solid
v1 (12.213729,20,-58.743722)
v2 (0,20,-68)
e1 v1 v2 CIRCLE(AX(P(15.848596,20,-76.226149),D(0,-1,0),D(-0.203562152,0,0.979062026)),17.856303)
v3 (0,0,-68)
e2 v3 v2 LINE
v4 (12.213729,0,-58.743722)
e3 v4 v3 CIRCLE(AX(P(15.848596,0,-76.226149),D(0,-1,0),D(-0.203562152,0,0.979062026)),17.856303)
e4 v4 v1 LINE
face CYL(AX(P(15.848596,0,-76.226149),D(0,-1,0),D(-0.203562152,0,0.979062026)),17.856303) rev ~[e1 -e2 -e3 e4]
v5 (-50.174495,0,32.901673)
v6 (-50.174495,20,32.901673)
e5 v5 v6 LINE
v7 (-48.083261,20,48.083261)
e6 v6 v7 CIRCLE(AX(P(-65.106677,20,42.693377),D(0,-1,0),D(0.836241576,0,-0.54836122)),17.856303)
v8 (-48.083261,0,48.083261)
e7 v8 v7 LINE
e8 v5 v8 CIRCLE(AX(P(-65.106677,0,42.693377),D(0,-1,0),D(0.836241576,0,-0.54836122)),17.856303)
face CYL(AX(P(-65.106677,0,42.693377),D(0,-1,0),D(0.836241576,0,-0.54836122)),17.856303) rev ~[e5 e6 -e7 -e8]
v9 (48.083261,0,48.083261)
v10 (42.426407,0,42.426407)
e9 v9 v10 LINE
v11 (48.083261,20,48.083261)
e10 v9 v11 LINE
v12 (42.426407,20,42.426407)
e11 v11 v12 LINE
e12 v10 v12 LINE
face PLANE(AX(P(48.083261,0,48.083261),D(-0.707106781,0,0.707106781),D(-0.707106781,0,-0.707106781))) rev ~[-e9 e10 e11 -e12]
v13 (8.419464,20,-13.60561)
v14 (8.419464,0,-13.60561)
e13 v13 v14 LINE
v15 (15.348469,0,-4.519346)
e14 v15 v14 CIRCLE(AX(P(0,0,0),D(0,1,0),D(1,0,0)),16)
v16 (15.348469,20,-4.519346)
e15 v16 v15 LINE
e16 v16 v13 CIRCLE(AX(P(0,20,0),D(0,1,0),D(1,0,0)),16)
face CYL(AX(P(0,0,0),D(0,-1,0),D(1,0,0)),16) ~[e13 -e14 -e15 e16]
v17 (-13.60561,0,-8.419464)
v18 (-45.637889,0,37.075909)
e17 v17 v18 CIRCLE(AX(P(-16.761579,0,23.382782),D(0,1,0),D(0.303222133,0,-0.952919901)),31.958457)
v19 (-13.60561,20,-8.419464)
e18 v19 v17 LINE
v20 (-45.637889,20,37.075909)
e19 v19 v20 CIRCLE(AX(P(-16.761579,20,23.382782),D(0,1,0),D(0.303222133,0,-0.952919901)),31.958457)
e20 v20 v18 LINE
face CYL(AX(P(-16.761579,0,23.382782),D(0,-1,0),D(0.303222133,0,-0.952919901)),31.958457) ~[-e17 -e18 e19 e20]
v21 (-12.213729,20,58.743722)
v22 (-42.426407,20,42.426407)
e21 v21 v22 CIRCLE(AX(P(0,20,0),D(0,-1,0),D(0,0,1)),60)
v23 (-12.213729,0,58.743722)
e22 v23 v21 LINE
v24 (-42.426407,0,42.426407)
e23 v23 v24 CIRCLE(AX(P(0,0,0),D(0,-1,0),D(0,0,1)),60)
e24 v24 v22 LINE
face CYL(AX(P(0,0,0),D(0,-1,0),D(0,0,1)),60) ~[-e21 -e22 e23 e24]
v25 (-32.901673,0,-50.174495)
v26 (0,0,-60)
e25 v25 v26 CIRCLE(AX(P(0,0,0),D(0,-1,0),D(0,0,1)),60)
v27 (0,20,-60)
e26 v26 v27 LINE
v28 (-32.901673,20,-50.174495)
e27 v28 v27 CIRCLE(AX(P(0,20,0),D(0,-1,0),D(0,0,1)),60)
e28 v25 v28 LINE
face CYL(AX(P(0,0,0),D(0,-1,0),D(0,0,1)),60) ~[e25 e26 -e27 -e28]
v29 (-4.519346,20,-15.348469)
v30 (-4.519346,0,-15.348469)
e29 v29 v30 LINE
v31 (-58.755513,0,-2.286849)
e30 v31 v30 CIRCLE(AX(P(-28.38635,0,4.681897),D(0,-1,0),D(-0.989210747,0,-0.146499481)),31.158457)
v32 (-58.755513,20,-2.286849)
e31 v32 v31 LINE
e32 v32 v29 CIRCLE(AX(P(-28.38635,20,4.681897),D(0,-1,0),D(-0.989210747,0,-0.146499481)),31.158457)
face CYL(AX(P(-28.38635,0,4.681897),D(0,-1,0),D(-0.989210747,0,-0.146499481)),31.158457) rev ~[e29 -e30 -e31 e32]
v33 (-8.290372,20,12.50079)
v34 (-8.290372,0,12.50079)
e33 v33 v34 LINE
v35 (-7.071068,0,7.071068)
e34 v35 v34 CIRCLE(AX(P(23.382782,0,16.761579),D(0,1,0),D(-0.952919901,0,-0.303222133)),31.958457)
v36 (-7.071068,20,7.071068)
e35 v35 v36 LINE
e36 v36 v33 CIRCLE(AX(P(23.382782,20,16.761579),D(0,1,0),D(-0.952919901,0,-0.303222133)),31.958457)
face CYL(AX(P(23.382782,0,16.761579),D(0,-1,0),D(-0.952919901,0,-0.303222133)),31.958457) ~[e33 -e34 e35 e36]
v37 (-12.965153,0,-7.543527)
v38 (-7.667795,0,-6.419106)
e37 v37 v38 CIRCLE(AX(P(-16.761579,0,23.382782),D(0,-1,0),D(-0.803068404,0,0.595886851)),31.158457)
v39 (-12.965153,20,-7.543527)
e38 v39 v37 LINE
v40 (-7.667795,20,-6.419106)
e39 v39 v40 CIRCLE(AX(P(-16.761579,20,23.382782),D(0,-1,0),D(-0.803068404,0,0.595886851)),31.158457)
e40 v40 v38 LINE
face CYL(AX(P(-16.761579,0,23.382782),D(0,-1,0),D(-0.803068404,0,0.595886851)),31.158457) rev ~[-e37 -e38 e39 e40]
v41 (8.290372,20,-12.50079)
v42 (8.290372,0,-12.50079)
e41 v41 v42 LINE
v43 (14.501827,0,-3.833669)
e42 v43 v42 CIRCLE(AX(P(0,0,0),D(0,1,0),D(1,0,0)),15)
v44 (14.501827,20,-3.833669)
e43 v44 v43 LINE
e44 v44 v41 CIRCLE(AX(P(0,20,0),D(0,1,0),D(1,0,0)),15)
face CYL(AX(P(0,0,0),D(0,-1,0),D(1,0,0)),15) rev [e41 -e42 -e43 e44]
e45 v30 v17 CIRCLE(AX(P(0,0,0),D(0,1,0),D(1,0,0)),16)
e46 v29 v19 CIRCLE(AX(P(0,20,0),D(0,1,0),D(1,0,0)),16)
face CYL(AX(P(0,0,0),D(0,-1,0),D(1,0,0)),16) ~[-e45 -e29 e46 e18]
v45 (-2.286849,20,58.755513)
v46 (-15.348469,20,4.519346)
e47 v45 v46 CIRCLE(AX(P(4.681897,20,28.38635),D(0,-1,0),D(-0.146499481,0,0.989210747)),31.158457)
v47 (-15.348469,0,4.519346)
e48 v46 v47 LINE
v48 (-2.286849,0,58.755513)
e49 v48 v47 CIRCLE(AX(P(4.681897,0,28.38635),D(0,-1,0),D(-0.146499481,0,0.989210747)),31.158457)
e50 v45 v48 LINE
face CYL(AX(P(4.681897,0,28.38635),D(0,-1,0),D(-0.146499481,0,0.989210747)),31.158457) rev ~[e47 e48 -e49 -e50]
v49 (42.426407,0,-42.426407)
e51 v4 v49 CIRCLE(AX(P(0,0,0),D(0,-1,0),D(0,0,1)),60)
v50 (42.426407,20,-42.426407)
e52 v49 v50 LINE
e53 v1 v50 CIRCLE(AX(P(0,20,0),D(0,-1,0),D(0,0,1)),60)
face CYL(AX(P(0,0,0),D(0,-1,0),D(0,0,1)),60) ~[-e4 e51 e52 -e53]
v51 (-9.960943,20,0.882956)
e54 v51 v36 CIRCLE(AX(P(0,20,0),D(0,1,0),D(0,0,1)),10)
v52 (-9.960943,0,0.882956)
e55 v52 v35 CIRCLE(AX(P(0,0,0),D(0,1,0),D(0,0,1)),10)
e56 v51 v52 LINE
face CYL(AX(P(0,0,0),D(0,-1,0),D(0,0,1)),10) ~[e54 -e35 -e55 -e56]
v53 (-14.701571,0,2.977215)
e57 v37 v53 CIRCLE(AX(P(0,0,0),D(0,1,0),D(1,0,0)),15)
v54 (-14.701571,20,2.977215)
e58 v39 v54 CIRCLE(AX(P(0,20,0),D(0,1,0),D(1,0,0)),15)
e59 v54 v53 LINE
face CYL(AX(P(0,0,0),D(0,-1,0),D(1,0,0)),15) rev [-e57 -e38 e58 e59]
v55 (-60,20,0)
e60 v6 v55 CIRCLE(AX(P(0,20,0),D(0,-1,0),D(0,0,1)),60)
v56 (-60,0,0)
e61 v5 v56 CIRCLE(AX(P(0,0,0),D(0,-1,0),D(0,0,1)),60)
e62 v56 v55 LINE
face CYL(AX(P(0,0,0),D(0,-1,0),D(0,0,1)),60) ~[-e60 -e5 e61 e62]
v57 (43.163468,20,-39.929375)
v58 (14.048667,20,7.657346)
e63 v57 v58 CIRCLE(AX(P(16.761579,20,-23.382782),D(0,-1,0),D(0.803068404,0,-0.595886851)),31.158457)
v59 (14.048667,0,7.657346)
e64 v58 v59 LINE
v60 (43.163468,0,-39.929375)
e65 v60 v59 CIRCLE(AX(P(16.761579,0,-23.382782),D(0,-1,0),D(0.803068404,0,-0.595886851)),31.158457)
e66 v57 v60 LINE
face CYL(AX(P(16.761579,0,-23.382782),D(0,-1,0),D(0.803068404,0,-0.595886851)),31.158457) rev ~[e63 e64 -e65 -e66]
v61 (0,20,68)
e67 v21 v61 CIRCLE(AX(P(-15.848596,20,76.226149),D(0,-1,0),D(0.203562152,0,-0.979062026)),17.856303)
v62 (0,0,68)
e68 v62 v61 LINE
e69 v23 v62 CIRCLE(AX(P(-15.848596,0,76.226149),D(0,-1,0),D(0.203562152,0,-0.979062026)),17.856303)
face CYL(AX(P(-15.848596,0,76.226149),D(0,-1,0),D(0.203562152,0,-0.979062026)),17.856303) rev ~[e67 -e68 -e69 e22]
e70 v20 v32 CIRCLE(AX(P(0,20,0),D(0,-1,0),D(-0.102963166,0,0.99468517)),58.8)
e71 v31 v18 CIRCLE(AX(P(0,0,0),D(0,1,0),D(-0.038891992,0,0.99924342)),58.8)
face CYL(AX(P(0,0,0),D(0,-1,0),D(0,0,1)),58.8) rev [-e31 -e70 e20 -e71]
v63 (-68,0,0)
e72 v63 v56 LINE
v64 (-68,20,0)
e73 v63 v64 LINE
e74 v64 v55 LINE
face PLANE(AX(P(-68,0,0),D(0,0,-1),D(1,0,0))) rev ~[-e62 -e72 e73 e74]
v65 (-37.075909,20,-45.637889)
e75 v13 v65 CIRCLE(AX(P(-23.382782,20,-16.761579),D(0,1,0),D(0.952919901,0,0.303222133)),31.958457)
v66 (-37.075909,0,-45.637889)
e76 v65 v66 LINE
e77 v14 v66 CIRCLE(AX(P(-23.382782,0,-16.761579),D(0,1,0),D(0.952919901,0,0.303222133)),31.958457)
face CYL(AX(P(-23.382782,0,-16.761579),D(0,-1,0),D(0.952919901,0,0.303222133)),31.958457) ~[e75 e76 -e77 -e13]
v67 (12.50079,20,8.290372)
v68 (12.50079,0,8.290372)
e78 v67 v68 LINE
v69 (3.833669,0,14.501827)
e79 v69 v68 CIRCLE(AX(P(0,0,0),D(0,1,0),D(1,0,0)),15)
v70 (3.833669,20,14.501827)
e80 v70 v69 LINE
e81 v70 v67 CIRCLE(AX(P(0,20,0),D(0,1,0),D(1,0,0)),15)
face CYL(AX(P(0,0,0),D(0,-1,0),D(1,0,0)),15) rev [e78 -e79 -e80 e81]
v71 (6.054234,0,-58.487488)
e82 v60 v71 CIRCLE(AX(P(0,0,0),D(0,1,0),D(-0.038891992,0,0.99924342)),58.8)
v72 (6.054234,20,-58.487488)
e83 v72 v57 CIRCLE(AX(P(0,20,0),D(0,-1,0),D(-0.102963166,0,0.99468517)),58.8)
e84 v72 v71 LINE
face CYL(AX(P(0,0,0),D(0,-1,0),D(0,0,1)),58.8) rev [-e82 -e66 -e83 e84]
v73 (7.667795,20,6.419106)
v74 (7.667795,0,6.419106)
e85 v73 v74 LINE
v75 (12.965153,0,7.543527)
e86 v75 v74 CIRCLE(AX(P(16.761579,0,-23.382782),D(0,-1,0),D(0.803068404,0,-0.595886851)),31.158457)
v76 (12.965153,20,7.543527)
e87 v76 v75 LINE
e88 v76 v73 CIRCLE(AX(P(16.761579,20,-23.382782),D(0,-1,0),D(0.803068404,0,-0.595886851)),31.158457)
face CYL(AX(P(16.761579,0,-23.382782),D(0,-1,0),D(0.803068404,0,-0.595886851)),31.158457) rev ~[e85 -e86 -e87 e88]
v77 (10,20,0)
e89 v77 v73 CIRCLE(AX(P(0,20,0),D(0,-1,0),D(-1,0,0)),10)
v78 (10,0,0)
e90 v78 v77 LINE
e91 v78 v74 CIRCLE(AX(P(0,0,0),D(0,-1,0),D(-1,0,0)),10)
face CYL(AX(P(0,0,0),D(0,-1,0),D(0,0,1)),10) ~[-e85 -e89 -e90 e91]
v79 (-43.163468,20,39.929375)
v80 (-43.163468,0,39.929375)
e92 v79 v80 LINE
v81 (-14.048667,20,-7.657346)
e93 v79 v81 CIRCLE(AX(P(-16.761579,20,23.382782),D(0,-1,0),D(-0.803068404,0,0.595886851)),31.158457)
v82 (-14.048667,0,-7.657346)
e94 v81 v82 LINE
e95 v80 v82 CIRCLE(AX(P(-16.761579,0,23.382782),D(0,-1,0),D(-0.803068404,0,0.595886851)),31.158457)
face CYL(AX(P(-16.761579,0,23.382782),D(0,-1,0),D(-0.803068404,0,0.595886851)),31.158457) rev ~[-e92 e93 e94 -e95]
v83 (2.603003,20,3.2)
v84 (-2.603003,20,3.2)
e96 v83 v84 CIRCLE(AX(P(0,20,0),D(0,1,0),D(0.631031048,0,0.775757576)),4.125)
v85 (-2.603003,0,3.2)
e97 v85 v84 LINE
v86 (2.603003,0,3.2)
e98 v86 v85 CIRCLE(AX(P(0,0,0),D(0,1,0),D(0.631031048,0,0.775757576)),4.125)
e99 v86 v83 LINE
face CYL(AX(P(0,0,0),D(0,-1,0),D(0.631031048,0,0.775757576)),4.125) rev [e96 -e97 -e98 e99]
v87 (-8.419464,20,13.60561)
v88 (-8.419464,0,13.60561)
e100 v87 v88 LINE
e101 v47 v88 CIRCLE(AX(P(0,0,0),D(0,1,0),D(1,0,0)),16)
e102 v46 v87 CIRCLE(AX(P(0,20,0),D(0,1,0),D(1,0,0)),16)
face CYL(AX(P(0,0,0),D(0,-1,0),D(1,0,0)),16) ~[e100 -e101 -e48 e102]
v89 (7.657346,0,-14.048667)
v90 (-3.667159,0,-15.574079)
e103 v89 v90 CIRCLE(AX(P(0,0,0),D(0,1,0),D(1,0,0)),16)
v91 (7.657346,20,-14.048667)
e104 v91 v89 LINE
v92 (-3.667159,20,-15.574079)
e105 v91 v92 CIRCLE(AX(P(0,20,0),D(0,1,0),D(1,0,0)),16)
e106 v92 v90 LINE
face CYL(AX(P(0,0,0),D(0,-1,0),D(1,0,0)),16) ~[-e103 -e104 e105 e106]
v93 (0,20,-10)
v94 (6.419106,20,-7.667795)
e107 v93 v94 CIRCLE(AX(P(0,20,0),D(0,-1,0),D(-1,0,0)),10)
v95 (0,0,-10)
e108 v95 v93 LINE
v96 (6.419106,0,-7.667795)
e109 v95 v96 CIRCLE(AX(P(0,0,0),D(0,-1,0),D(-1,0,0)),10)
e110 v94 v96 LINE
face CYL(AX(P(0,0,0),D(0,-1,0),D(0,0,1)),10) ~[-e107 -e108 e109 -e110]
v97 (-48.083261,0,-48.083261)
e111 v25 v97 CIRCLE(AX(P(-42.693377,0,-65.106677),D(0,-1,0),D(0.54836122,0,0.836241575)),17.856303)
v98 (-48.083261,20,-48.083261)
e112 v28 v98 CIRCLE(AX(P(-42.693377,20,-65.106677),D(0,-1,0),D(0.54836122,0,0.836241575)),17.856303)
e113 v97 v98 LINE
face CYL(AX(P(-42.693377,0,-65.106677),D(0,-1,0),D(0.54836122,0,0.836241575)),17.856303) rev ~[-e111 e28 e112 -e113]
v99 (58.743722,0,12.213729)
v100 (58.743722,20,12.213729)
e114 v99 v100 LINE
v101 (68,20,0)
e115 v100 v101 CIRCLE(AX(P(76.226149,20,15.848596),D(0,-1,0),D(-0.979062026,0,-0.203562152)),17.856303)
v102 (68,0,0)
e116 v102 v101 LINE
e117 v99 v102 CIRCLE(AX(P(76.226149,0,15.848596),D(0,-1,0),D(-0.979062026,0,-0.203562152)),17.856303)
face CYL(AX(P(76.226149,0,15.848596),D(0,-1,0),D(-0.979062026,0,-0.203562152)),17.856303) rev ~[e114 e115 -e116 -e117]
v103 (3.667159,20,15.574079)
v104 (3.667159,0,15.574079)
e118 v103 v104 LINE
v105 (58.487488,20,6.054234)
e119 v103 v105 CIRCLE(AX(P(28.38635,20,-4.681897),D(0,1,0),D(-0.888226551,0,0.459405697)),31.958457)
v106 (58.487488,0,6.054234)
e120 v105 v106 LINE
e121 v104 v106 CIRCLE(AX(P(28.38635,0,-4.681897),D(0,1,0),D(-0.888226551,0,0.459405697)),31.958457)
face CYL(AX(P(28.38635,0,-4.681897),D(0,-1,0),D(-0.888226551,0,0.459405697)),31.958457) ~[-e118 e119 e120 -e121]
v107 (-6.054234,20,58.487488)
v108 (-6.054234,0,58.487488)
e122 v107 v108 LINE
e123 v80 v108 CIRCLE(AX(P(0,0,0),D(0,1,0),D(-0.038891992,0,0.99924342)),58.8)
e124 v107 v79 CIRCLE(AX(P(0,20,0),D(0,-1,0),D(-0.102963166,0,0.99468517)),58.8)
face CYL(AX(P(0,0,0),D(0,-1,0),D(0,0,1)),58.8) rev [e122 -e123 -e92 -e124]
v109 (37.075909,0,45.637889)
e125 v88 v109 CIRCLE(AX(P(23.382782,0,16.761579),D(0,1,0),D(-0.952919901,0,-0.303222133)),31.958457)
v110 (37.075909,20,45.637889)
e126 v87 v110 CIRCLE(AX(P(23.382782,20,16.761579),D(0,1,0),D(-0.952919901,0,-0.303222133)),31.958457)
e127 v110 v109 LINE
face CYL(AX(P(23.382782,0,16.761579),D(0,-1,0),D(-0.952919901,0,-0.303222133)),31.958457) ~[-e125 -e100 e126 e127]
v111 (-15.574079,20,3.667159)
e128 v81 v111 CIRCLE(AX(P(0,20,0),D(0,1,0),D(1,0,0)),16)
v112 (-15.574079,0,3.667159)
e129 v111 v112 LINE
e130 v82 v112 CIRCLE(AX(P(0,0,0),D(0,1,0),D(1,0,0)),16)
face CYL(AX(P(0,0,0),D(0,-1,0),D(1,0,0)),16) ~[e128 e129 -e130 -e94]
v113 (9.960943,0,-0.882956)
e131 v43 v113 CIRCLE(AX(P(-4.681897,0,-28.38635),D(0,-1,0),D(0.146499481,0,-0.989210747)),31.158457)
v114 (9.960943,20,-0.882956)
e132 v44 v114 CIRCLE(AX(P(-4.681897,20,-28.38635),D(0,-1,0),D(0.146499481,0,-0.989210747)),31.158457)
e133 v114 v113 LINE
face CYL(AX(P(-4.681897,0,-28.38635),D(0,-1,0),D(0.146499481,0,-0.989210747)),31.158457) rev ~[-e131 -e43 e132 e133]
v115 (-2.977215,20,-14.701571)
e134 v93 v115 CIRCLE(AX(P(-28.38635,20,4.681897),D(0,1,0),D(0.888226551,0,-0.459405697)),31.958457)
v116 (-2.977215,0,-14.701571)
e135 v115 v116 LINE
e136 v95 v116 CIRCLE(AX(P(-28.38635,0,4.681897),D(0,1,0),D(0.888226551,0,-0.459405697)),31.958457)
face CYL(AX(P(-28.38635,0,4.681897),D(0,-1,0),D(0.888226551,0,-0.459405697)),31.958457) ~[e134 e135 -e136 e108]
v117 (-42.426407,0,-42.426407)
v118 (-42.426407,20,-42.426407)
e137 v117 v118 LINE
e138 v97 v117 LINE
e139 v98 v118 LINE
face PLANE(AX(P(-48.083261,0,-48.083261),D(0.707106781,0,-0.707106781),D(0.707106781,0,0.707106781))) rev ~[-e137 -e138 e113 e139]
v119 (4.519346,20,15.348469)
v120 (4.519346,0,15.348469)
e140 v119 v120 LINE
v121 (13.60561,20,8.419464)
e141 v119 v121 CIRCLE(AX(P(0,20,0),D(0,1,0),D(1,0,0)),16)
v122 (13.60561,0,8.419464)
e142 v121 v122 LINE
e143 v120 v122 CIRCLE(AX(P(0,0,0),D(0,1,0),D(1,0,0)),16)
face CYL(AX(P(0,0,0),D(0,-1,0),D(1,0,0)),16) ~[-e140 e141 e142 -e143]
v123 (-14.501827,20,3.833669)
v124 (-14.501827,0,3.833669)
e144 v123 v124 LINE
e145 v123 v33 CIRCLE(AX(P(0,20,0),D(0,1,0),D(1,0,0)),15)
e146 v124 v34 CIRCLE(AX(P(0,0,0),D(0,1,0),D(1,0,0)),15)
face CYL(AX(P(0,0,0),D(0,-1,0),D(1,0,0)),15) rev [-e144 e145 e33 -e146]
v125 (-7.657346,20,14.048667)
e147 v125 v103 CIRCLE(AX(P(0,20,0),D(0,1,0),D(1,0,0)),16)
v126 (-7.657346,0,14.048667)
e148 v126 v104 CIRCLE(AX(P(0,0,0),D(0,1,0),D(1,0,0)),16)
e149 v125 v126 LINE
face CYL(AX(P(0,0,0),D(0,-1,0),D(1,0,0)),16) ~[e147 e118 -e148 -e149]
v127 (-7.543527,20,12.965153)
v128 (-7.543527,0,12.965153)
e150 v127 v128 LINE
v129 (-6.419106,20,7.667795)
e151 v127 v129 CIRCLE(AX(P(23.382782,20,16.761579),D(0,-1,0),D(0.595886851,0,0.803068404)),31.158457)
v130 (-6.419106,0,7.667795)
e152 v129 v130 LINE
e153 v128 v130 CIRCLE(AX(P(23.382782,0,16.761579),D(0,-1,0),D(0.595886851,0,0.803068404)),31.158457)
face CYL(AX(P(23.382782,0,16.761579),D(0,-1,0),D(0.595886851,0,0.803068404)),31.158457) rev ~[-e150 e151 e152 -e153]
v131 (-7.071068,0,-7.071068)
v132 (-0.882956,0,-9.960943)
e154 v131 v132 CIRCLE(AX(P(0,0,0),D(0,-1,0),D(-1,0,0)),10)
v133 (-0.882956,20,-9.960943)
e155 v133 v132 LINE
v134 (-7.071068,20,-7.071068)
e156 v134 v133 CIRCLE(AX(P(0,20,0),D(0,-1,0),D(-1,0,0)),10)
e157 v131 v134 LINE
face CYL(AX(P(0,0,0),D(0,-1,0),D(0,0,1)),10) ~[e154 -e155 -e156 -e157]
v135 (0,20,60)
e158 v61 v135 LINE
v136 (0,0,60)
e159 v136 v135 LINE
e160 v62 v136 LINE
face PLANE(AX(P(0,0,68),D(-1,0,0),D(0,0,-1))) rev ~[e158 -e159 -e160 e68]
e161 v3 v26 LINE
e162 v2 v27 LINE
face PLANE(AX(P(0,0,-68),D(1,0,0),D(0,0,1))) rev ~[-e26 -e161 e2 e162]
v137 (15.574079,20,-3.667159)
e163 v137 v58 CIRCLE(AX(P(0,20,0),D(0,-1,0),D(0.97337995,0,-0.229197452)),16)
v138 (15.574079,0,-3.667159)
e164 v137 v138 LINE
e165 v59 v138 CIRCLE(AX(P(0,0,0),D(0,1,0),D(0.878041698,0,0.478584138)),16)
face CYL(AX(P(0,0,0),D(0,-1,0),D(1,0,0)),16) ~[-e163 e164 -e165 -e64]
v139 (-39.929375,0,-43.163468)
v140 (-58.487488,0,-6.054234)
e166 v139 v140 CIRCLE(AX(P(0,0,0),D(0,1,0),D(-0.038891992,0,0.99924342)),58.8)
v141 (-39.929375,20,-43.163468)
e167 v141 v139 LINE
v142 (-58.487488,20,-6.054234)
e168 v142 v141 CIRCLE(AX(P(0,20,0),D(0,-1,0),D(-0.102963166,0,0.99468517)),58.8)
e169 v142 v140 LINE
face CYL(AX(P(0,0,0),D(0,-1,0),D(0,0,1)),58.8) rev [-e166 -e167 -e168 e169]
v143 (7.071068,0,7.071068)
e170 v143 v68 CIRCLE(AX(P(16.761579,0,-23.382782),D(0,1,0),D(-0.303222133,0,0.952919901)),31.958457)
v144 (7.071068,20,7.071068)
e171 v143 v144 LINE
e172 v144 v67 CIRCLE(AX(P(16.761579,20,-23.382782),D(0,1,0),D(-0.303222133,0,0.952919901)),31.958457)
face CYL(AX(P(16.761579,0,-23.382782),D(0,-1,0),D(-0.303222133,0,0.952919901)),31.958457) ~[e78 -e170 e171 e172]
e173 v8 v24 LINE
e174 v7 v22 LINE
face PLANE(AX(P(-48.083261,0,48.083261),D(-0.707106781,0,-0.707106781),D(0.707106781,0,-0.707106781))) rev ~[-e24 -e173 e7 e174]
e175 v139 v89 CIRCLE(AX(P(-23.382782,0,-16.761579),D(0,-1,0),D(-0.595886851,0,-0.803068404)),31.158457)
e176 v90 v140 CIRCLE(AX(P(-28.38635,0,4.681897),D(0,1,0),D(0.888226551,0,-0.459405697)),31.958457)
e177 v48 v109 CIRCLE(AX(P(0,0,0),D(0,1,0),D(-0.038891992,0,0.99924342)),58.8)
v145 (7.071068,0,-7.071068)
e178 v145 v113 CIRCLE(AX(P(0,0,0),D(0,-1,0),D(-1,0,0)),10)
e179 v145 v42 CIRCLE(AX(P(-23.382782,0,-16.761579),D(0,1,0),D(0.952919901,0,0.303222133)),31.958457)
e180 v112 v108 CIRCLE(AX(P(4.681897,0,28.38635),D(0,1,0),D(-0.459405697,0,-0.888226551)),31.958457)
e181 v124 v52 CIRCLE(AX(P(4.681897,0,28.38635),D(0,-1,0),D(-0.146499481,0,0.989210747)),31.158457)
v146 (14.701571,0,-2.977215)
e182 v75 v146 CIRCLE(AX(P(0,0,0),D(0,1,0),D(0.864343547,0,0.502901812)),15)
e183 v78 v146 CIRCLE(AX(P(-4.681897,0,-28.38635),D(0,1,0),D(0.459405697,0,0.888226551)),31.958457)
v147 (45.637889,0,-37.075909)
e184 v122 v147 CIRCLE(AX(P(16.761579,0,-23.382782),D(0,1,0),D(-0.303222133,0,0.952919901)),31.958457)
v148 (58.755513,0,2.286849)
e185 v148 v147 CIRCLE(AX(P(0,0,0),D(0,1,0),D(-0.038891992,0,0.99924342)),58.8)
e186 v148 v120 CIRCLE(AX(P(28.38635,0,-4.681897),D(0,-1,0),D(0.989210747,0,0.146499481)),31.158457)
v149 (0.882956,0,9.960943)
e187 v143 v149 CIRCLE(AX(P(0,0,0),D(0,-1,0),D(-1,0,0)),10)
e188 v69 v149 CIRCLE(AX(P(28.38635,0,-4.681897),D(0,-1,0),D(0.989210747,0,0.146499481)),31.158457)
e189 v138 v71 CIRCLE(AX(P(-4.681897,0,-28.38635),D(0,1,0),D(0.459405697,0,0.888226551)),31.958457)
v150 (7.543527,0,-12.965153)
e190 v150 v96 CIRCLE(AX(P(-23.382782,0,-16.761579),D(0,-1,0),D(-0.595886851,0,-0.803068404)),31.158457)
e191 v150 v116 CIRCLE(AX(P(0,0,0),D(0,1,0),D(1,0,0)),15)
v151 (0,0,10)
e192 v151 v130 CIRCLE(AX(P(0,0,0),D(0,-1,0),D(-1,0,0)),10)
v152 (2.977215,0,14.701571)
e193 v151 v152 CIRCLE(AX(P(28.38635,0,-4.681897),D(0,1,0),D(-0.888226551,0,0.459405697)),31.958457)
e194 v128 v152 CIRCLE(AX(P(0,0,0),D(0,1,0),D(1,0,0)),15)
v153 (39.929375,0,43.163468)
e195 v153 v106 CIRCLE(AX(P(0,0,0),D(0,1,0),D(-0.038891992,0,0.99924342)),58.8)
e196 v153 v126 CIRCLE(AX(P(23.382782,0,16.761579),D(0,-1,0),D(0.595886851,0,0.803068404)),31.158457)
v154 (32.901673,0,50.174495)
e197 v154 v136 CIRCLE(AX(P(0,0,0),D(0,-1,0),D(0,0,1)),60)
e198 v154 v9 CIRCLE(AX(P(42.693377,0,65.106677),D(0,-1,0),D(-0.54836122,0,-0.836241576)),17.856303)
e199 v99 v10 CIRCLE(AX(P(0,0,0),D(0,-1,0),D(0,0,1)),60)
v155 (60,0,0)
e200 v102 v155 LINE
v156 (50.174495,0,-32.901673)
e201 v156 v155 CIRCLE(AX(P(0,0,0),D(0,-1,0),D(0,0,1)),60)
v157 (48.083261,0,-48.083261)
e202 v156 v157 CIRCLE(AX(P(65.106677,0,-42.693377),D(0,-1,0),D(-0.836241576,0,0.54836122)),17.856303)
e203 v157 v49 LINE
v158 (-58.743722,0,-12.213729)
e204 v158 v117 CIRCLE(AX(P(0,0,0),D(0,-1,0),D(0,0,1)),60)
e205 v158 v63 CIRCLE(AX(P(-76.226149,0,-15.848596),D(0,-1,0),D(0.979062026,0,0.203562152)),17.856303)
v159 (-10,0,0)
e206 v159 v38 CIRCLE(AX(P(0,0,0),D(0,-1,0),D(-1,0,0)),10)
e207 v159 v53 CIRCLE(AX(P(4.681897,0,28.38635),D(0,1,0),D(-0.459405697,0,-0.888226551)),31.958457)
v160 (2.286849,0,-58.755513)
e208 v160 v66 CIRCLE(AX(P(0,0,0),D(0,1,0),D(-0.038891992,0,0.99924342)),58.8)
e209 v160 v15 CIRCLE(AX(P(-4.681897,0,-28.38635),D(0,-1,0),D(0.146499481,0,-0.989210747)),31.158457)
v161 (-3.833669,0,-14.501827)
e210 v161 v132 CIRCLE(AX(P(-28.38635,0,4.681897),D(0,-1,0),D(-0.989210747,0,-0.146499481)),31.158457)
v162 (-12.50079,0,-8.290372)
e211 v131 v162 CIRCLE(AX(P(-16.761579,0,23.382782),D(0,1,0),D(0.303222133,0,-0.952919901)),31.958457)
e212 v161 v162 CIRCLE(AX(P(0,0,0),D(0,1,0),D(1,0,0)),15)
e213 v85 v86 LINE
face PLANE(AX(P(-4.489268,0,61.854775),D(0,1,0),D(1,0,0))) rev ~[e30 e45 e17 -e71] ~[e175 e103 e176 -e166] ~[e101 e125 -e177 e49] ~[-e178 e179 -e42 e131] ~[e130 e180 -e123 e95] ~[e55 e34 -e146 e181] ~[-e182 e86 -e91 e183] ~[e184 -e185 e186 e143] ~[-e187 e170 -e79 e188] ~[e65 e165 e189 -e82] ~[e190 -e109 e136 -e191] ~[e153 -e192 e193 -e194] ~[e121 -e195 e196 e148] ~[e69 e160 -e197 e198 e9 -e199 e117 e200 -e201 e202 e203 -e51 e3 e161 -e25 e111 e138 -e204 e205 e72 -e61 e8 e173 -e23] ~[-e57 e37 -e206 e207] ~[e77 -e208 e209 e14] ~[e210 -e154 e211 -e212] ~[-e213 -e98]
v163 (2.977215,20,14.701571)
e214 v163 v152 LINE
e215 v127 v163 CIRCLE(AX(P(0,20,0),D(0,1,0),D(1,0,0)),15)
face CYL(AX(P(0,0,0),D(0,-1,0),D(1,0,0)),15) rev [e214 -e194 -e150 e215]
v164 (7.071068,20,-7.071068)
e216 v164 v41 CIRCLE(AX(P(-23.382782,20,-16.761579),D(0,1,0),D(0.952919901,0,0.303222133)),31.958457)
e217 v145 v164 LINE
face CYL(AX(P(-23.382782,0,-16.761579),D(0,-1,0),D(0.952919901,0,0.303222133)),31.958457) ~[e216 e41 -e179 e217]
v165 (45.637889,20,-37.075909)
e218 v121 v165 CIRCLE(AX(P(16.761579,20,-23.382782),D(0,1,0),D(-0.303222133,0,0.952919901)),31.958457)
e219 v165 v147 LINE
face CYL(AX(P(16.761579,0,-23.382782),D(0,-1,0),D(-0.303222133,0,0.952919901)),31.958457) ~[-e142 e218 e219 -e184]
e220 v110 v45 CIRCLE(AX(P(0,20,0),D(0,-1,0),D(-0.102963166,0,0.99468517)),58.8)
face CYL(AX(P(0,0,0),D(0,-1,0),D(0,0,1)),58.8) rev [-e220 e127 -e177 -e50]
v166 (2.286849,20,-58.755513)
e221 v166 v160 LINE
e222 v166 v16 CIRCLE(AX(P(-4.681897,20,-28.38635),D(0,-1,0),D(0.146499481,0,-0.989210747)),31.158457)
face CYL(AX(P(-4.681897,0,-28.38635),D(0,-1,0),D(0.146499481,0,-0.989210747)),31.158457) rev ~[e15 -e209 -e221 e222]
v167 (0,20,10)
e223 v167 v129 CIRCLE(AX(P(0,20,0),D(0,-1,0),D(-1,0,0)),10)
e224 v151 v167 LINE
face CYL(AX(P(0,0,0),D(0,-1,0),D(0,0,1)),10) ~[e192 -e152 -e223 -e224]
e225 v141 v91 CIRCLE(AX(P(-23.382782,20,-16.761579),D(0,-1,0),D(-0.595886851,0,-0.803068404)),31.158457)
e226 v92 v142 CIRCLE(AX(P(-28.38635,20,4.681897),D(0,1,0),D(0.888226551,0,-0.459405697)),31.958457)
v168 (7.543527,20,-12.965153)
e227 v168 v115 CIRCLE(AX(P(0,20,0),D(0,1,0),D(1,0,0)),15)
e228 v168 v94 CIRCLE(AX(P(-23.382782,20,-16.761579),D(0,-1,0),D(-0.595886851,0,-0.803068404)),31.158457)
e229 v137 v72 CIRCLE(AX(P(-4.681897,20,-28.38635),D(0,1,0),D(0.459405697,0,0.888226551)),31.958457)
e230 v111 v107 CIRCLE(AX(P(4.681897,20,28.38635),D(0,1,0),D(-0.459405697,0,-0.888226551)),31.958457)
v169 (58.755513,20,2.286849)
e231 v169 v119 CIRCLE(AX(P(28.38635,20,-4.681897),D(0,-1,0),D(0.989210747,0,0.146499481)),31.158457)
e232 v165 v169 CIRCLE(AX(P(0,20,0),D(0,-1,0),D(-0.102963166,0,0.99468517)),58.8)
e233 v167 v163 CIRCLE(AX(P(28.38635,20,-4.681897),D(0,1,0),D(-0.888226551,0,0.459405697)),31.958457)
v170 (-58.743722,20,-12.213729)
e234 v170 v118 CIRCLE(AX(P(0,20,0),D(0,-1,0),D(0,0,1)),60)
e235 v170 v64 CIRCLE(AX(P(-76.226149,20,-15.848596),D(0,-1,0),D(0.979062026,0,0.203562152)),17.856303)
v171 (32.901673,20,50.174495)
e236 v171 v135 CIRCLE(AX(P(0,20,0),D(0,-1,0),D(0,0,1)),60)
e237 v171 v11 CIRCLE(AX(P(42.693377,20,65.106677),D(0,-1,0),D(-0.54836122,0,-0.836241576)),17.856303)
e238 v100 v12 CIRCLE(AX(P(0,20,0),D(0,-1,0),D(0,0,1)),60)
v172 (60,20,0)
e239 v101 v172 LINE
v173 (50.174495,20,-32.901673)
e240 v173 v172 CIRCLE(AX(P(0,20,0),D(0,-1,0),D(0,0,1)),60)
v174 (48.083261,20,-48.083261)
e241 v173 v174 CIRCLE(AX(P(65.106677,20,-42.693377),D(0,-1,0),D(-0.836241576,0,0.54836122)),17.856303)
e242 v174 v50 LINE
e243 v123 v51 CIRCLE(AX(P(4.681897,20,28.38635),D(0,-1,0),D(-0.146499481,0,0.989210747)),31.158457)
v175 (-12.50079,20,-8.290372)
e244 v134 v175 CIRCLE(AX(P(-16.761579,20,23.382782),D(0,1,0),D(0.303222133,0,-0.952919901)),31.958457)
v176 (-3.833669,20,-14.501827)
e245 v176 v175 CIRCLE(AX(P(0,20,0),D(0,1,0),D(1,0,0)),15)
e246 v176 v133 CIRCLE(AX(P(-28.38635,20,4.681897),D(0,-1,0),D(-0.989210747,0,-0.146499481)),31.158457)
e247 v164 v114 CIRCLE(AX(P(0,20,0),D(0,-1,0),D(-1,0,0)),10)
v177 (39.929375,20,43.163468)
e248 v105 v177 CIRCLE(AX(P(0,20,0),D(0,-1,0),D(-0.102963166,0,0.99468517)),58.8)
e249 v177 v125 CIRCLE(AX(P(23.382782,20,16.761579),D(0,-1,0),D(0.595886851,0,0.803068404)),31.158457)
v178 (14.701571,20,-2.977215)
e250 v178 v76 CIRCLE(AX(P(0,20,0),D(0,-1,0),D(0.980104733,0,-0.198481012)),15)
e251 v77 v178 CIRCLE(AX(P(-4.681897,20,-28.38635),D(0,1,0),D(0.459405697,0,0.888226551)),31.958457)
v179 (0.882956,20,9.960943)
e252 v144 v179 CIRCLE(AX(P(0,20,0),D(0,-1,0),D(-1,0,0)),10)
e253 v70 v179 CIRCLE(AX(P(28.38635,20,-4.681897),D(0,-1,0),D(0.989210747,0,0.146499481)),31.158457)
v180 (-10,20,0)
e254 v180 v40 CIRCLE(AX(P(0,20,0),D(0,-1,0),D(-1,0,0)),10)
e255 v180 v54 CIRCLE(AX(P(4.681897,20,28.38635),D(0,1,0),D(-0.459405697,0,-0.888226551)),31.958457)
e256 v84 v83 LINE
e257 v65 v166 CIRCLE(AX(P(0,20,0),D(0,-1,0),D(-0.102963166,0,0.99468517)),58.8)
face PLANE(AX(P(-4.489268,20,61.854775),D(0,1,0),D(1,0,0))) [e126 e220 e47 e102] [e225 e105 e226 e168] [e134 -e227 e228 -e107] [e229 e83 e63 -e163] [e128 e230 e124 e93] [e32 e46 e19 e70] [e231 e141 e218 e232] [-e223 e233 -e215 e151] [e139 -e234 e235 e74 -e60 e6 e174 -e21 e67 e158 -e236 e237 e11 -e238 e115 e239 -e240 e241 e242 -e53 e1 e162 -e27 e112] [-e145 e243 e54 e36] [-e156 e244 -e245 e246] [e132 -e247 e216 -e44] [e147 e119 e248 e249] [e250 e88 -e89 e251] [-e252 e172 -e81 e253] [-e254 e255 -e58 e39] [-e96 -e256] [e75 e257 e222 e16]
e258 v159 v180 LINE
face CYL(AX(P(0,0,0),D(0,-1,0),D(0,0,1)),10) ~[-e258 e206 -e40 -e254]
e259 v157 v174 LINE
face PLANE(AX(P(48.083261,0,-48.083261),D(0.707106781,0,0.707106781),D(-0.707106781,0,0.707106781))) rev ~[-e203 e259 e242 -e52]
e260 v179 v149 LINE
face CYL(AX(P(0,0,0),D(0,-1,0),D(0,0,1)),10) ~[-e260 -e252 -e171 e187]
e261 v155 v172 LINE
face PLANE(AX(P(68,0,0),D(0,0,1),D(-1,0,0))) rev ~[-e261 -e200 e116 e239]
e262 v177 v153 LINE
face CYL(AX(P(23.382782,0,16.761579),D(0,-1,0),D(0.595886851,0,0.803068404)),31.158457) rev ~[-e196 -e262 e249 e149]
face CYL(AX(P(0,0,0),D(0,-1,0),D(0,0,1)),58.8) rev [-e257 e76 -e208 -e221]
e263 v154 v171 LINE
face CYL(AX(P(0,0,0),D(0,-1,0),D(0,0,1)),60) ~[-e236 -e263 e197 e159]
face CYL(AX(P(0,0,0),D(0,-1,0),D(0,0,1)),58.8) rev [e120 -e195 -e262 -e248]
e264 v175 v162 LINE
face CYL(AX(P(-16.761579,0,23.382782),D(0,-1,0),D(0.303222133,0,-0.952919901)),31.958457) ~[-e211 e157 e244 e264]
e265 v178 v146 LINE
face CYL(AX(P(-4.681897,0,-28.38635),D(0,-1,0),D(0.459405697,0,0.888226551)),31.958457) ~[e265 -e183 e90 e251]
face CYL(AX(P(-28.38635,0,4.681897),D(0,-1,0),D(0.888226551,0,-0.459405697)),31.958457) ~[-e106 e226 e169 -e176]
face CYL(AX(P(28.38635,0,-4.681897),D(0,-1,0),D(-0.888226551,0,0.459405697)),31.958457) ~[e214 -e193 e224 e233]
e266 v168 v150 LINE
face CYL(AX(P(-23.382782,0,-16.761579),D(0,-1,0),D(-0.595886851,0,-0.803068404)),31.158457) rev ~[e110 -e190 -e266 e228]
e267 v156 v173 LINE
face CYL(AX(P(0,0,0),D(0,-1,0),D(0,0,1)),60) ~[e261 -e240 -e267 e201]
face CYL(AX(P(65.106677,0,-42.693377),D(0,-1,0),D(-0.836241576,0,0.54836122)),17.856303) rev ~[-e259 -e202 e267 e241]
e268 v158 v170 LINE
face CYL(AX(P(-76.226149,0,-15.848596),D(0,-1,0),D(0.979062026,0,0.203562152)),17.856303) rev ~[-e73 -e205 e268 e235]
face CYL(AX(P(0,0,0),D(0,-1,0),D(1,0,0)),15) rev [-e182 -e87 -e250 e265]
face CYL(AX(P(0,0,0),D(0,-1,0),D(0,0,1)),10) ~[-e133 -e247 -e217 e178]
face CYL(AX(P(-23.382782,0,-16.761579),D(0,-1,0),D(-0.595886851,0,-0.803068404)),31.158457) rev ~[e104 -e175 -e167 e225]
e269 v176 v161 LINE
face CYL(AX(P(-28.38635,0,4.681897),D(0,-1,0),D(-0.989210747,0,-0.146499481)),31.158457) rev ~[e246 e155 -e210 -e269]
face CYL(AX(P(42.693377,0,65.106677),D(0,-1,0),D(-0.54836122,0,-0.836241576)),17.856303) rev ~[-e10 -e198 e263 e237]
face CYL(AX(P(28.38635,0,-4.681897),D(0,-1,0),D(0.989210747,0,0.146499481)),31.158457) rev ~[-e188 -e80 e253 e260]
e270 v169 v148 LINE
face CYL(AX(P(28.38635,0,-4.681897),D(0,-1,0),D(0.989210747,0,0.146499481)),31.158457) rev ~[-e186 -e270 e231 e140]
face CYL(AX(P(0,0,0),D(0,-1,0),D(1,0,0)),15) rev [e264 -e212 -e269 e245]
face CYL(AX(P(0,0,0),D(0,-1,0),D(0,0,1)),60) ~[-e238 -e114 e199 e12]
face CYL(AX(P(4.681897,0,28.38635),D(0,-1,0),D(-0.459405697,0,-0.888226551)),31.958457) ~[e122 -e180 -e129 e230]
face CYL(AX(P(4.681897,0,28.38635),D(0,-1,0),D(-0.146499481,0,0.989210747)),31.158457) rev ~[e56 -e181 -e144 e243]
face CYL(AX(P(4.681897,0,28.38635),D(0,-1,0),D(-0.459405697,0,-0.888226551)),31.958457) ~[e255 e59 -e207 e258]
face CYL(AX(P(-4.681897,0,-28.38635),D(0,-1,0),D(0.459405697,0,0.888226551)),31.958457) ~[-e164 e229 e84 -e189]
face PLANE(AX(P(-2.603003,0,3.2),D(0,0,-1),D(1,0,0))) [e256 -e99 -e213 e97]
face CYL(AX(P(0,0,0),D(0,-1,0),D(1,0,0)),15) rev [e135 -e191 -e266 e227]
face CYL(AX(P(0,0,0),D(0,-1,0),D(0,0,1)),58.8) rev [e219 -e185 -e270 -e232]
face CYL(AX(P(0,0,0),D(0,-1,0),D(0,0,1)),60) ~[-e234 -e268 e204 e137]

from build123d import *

# Parameters (mm, degrees)
SKETCH1_R             = 60
SKETCH1_R_2           = 58.8
BOSS_EXTRUDE1_DEPTH   = 20
SKETCH1_R_3           = 10
BOSS_EXTRUDE1_2_DEPTH = 20
BOSS_EXTRUDE4_DEPTH   = 20
CIRPATTERN1_COUNT     = 8
SKETCH2_R             = 16
SKETCH2_R_2           = 15
BOSS_EXTRUDE2_DEPTH   = 20
BOSS_EXTRUDE3_DEPTH   = 20


with BuildPart() as part:
    # Sketch1 → Boss-Extrude1 (new body)
    with BuildSketch(Plane(origin=(0, 0, 0), x_dir=(1, 0, 0), z_dir=(0, 1, 0))):
        with Locations(Location((0, 0, 0), (0, 0, 270))):
            Circle(SKETCH1_R)
        with Locations(Location((0, 0, 0), (0, 0, 270))):
            Circle(SKETCH1_R_2, mode=Mode.SUBTRACT)
    extrude(amount=BOSS_EXTRUDE1_DEPTH)



with BuildPart() as body_2:
    # Sketch1 → Boss-Extrude1 2 (new body)
    with BuildSketch(Plane(origin=(0, 0, 0), x_dir=(1, 0, 0), z_dir=(0, 1, 0))):
        with Locations(Location((0, 0, 0), (0, 0, 270))):
            Circle(SKETCH1_R_3)
        with BuildLine():
            ThreePointArc((2.603003073, -3.2), (0, 4.125), (-2.603003073, -3.2))
            Line((-2.603003073, -3.2), (2.603003073, -3.2))
        make_face(mode=Mode.SUBTRACT)
    extrude(amount=BOSS_EXTRUDE1_2_DEPTH)


with BuildPart() as part_1:
    add(part.part)

    add(body_2.part)  # Boss-Extrude4 merges body 2
    # Sketch4 → Boss-Extrude4 (add)
    with BuildSketch(Plane(origin=(0, 0, 0), x_dir=(1, 0, 0), z_dir=(0, 1, 0))):
        with BuildLine():
            Line((-9.632475442, -0.71058124), (-10, 0))
            ThreePointArc((-10, 0), (-26.841730813, -33.640288469), (0, -60))
            Line((0, -60), (0.117199585, -59.208631402))
            ThreePointArc((0.117199585, -59.208631402), (-26.052615674, -33.508769279), (-9.632475442, -0.71058124))
        make_face()
    boss_extrude4 = extrude(amount=BOSS_EXTRUDE4_DEPTH)

    # CirPattern1: Boss-Extrude4 ×8 about axis
    cirpattern1_axis = Axis((0, 0, 0), (0, 1, 0))
    for i in range(1, CIRPATTERN1_COUNT):
        add(boss_extrude4.rotate(cirpattern1_axis, i * 360 / CIRPATTERN1_COUNT))

    # Sketch2 → Boss-Extrude2 (add)
    with BuildSketch(Plane(origin=(0, 0, 0), x_dir=(1, 0, 0), z_dir=(0, 1, 0))):
        Circle(SKETCH2_R)
        Circle(SKETCH2_R_2, mode=Mode.SUBTRACT)
    extrude(amount=BOSS_EXTRUDE2_DEPTH)

    # Sketch3 → Boss-Extrude3 (add)
    with BuildSketch(Plane(origin=(0, 0, 0), x_dir=(1, 0, 0), z_dir=(0, 1, 0))):
        with BuildLine():
            Line((0, -68), (0, -60))
            ThreePointArc((0, -60), (-6.139084092, -59.685104059), (-12.213729096, -58.74372155))
            ThreePointArc((-12.213729096, -58.74372155), (-5.063374474, -61.994967767), (0, -68))
        make_face()
        with BuildLine():
            ThreePointArc((42.426406871, -42.426406871), (37.862753824, -46.544729808), (32.901673193, -50.174494528))
            ThreePointArc((32.901673193, -50.174494527), (40.256715681, -47.417408534), (48.083261121, -48.08326112))
            Line((48.083261121, -48.08326112), (42.426406871, -42.426406871))
        make_face()
        with BuildLine():
            Line((-48.083261121, -48.083261121), (-42.426406872, -42.426406871))
            ThreePointArc((-42.426406871, -42.426406871), (-46.544729808, -37.862753824), (-50.174494528, -32.901673193))
            ThreePointArc((-50.174494528, -32.901673193), (-47.417408535, -40.256715682), (-48.083261121, -48.083261121))
        make_face()
        with BuildLine():
            ThreePointArc((60, 0), (59.685104059, -6.139084092), (58.74372155, -12.213729095))
            ThreePointArc((58.74372155, -12.213729095), (61.994967767, -5.063374474), (68, 1e-09))
            Line((68, 1e-09), (60, 1e-09))
        make_face()
        with BuildLine():
            Line((-68.000000001, 0), (-60.000000001, 0))
            ThreePointArc((-60, 0), (-59.685104059, 6.139084092), (-58.74372155, 12.213729096))
            ThreePointArc((-58.743721551, 12.213729096), (-61.994967768, 5.063374474), (-68.000000001, 0))
        make_face()
        with BuildLine():
            ThreePointArc((42.42640687, 42.426406872), (46.544729807, 37.862753825), (50.174494527, 32.901673194))
            ThreePointArc((50.174494527, 32.901673194), (47.417408534, 40.256715682), (48.08326112, 48.083261122))
            Line((48.08326112, 48.083261122), (42.42640687, 42.426406872))
        make_face()
        with BuildLine():
            Line((-48.083261122, 48.083261121), (-42.426406872, 42.426406871))
            ThreePointArc((-42.426406872, 42.426406871), (-37.862753824, 46.544729807), (-32.901673194, 50.174494527))
            ThreePointArc((-32.901673194, 50.174494528), (-40.256715682, 47.417408534), (-48.083261122, 48.083261121))
        make_face()
        with BuildLine():
            ThreePointArc((-1e-09, 60), (6.139084091, 59.685104059), (12.213729095, 58.74372155))
            ThreePointArc((12.213729095, 58.743721551), (5.063374473, 61.994967768), (-1e-09, 68.000000001))
            Line((-1e-09, 68.000000001), (-1e-09, 60.000000001))
        make_face()
    extrude(amount=BOSS_EXTRUDE3_DEPTH)


solid = part_1.part
